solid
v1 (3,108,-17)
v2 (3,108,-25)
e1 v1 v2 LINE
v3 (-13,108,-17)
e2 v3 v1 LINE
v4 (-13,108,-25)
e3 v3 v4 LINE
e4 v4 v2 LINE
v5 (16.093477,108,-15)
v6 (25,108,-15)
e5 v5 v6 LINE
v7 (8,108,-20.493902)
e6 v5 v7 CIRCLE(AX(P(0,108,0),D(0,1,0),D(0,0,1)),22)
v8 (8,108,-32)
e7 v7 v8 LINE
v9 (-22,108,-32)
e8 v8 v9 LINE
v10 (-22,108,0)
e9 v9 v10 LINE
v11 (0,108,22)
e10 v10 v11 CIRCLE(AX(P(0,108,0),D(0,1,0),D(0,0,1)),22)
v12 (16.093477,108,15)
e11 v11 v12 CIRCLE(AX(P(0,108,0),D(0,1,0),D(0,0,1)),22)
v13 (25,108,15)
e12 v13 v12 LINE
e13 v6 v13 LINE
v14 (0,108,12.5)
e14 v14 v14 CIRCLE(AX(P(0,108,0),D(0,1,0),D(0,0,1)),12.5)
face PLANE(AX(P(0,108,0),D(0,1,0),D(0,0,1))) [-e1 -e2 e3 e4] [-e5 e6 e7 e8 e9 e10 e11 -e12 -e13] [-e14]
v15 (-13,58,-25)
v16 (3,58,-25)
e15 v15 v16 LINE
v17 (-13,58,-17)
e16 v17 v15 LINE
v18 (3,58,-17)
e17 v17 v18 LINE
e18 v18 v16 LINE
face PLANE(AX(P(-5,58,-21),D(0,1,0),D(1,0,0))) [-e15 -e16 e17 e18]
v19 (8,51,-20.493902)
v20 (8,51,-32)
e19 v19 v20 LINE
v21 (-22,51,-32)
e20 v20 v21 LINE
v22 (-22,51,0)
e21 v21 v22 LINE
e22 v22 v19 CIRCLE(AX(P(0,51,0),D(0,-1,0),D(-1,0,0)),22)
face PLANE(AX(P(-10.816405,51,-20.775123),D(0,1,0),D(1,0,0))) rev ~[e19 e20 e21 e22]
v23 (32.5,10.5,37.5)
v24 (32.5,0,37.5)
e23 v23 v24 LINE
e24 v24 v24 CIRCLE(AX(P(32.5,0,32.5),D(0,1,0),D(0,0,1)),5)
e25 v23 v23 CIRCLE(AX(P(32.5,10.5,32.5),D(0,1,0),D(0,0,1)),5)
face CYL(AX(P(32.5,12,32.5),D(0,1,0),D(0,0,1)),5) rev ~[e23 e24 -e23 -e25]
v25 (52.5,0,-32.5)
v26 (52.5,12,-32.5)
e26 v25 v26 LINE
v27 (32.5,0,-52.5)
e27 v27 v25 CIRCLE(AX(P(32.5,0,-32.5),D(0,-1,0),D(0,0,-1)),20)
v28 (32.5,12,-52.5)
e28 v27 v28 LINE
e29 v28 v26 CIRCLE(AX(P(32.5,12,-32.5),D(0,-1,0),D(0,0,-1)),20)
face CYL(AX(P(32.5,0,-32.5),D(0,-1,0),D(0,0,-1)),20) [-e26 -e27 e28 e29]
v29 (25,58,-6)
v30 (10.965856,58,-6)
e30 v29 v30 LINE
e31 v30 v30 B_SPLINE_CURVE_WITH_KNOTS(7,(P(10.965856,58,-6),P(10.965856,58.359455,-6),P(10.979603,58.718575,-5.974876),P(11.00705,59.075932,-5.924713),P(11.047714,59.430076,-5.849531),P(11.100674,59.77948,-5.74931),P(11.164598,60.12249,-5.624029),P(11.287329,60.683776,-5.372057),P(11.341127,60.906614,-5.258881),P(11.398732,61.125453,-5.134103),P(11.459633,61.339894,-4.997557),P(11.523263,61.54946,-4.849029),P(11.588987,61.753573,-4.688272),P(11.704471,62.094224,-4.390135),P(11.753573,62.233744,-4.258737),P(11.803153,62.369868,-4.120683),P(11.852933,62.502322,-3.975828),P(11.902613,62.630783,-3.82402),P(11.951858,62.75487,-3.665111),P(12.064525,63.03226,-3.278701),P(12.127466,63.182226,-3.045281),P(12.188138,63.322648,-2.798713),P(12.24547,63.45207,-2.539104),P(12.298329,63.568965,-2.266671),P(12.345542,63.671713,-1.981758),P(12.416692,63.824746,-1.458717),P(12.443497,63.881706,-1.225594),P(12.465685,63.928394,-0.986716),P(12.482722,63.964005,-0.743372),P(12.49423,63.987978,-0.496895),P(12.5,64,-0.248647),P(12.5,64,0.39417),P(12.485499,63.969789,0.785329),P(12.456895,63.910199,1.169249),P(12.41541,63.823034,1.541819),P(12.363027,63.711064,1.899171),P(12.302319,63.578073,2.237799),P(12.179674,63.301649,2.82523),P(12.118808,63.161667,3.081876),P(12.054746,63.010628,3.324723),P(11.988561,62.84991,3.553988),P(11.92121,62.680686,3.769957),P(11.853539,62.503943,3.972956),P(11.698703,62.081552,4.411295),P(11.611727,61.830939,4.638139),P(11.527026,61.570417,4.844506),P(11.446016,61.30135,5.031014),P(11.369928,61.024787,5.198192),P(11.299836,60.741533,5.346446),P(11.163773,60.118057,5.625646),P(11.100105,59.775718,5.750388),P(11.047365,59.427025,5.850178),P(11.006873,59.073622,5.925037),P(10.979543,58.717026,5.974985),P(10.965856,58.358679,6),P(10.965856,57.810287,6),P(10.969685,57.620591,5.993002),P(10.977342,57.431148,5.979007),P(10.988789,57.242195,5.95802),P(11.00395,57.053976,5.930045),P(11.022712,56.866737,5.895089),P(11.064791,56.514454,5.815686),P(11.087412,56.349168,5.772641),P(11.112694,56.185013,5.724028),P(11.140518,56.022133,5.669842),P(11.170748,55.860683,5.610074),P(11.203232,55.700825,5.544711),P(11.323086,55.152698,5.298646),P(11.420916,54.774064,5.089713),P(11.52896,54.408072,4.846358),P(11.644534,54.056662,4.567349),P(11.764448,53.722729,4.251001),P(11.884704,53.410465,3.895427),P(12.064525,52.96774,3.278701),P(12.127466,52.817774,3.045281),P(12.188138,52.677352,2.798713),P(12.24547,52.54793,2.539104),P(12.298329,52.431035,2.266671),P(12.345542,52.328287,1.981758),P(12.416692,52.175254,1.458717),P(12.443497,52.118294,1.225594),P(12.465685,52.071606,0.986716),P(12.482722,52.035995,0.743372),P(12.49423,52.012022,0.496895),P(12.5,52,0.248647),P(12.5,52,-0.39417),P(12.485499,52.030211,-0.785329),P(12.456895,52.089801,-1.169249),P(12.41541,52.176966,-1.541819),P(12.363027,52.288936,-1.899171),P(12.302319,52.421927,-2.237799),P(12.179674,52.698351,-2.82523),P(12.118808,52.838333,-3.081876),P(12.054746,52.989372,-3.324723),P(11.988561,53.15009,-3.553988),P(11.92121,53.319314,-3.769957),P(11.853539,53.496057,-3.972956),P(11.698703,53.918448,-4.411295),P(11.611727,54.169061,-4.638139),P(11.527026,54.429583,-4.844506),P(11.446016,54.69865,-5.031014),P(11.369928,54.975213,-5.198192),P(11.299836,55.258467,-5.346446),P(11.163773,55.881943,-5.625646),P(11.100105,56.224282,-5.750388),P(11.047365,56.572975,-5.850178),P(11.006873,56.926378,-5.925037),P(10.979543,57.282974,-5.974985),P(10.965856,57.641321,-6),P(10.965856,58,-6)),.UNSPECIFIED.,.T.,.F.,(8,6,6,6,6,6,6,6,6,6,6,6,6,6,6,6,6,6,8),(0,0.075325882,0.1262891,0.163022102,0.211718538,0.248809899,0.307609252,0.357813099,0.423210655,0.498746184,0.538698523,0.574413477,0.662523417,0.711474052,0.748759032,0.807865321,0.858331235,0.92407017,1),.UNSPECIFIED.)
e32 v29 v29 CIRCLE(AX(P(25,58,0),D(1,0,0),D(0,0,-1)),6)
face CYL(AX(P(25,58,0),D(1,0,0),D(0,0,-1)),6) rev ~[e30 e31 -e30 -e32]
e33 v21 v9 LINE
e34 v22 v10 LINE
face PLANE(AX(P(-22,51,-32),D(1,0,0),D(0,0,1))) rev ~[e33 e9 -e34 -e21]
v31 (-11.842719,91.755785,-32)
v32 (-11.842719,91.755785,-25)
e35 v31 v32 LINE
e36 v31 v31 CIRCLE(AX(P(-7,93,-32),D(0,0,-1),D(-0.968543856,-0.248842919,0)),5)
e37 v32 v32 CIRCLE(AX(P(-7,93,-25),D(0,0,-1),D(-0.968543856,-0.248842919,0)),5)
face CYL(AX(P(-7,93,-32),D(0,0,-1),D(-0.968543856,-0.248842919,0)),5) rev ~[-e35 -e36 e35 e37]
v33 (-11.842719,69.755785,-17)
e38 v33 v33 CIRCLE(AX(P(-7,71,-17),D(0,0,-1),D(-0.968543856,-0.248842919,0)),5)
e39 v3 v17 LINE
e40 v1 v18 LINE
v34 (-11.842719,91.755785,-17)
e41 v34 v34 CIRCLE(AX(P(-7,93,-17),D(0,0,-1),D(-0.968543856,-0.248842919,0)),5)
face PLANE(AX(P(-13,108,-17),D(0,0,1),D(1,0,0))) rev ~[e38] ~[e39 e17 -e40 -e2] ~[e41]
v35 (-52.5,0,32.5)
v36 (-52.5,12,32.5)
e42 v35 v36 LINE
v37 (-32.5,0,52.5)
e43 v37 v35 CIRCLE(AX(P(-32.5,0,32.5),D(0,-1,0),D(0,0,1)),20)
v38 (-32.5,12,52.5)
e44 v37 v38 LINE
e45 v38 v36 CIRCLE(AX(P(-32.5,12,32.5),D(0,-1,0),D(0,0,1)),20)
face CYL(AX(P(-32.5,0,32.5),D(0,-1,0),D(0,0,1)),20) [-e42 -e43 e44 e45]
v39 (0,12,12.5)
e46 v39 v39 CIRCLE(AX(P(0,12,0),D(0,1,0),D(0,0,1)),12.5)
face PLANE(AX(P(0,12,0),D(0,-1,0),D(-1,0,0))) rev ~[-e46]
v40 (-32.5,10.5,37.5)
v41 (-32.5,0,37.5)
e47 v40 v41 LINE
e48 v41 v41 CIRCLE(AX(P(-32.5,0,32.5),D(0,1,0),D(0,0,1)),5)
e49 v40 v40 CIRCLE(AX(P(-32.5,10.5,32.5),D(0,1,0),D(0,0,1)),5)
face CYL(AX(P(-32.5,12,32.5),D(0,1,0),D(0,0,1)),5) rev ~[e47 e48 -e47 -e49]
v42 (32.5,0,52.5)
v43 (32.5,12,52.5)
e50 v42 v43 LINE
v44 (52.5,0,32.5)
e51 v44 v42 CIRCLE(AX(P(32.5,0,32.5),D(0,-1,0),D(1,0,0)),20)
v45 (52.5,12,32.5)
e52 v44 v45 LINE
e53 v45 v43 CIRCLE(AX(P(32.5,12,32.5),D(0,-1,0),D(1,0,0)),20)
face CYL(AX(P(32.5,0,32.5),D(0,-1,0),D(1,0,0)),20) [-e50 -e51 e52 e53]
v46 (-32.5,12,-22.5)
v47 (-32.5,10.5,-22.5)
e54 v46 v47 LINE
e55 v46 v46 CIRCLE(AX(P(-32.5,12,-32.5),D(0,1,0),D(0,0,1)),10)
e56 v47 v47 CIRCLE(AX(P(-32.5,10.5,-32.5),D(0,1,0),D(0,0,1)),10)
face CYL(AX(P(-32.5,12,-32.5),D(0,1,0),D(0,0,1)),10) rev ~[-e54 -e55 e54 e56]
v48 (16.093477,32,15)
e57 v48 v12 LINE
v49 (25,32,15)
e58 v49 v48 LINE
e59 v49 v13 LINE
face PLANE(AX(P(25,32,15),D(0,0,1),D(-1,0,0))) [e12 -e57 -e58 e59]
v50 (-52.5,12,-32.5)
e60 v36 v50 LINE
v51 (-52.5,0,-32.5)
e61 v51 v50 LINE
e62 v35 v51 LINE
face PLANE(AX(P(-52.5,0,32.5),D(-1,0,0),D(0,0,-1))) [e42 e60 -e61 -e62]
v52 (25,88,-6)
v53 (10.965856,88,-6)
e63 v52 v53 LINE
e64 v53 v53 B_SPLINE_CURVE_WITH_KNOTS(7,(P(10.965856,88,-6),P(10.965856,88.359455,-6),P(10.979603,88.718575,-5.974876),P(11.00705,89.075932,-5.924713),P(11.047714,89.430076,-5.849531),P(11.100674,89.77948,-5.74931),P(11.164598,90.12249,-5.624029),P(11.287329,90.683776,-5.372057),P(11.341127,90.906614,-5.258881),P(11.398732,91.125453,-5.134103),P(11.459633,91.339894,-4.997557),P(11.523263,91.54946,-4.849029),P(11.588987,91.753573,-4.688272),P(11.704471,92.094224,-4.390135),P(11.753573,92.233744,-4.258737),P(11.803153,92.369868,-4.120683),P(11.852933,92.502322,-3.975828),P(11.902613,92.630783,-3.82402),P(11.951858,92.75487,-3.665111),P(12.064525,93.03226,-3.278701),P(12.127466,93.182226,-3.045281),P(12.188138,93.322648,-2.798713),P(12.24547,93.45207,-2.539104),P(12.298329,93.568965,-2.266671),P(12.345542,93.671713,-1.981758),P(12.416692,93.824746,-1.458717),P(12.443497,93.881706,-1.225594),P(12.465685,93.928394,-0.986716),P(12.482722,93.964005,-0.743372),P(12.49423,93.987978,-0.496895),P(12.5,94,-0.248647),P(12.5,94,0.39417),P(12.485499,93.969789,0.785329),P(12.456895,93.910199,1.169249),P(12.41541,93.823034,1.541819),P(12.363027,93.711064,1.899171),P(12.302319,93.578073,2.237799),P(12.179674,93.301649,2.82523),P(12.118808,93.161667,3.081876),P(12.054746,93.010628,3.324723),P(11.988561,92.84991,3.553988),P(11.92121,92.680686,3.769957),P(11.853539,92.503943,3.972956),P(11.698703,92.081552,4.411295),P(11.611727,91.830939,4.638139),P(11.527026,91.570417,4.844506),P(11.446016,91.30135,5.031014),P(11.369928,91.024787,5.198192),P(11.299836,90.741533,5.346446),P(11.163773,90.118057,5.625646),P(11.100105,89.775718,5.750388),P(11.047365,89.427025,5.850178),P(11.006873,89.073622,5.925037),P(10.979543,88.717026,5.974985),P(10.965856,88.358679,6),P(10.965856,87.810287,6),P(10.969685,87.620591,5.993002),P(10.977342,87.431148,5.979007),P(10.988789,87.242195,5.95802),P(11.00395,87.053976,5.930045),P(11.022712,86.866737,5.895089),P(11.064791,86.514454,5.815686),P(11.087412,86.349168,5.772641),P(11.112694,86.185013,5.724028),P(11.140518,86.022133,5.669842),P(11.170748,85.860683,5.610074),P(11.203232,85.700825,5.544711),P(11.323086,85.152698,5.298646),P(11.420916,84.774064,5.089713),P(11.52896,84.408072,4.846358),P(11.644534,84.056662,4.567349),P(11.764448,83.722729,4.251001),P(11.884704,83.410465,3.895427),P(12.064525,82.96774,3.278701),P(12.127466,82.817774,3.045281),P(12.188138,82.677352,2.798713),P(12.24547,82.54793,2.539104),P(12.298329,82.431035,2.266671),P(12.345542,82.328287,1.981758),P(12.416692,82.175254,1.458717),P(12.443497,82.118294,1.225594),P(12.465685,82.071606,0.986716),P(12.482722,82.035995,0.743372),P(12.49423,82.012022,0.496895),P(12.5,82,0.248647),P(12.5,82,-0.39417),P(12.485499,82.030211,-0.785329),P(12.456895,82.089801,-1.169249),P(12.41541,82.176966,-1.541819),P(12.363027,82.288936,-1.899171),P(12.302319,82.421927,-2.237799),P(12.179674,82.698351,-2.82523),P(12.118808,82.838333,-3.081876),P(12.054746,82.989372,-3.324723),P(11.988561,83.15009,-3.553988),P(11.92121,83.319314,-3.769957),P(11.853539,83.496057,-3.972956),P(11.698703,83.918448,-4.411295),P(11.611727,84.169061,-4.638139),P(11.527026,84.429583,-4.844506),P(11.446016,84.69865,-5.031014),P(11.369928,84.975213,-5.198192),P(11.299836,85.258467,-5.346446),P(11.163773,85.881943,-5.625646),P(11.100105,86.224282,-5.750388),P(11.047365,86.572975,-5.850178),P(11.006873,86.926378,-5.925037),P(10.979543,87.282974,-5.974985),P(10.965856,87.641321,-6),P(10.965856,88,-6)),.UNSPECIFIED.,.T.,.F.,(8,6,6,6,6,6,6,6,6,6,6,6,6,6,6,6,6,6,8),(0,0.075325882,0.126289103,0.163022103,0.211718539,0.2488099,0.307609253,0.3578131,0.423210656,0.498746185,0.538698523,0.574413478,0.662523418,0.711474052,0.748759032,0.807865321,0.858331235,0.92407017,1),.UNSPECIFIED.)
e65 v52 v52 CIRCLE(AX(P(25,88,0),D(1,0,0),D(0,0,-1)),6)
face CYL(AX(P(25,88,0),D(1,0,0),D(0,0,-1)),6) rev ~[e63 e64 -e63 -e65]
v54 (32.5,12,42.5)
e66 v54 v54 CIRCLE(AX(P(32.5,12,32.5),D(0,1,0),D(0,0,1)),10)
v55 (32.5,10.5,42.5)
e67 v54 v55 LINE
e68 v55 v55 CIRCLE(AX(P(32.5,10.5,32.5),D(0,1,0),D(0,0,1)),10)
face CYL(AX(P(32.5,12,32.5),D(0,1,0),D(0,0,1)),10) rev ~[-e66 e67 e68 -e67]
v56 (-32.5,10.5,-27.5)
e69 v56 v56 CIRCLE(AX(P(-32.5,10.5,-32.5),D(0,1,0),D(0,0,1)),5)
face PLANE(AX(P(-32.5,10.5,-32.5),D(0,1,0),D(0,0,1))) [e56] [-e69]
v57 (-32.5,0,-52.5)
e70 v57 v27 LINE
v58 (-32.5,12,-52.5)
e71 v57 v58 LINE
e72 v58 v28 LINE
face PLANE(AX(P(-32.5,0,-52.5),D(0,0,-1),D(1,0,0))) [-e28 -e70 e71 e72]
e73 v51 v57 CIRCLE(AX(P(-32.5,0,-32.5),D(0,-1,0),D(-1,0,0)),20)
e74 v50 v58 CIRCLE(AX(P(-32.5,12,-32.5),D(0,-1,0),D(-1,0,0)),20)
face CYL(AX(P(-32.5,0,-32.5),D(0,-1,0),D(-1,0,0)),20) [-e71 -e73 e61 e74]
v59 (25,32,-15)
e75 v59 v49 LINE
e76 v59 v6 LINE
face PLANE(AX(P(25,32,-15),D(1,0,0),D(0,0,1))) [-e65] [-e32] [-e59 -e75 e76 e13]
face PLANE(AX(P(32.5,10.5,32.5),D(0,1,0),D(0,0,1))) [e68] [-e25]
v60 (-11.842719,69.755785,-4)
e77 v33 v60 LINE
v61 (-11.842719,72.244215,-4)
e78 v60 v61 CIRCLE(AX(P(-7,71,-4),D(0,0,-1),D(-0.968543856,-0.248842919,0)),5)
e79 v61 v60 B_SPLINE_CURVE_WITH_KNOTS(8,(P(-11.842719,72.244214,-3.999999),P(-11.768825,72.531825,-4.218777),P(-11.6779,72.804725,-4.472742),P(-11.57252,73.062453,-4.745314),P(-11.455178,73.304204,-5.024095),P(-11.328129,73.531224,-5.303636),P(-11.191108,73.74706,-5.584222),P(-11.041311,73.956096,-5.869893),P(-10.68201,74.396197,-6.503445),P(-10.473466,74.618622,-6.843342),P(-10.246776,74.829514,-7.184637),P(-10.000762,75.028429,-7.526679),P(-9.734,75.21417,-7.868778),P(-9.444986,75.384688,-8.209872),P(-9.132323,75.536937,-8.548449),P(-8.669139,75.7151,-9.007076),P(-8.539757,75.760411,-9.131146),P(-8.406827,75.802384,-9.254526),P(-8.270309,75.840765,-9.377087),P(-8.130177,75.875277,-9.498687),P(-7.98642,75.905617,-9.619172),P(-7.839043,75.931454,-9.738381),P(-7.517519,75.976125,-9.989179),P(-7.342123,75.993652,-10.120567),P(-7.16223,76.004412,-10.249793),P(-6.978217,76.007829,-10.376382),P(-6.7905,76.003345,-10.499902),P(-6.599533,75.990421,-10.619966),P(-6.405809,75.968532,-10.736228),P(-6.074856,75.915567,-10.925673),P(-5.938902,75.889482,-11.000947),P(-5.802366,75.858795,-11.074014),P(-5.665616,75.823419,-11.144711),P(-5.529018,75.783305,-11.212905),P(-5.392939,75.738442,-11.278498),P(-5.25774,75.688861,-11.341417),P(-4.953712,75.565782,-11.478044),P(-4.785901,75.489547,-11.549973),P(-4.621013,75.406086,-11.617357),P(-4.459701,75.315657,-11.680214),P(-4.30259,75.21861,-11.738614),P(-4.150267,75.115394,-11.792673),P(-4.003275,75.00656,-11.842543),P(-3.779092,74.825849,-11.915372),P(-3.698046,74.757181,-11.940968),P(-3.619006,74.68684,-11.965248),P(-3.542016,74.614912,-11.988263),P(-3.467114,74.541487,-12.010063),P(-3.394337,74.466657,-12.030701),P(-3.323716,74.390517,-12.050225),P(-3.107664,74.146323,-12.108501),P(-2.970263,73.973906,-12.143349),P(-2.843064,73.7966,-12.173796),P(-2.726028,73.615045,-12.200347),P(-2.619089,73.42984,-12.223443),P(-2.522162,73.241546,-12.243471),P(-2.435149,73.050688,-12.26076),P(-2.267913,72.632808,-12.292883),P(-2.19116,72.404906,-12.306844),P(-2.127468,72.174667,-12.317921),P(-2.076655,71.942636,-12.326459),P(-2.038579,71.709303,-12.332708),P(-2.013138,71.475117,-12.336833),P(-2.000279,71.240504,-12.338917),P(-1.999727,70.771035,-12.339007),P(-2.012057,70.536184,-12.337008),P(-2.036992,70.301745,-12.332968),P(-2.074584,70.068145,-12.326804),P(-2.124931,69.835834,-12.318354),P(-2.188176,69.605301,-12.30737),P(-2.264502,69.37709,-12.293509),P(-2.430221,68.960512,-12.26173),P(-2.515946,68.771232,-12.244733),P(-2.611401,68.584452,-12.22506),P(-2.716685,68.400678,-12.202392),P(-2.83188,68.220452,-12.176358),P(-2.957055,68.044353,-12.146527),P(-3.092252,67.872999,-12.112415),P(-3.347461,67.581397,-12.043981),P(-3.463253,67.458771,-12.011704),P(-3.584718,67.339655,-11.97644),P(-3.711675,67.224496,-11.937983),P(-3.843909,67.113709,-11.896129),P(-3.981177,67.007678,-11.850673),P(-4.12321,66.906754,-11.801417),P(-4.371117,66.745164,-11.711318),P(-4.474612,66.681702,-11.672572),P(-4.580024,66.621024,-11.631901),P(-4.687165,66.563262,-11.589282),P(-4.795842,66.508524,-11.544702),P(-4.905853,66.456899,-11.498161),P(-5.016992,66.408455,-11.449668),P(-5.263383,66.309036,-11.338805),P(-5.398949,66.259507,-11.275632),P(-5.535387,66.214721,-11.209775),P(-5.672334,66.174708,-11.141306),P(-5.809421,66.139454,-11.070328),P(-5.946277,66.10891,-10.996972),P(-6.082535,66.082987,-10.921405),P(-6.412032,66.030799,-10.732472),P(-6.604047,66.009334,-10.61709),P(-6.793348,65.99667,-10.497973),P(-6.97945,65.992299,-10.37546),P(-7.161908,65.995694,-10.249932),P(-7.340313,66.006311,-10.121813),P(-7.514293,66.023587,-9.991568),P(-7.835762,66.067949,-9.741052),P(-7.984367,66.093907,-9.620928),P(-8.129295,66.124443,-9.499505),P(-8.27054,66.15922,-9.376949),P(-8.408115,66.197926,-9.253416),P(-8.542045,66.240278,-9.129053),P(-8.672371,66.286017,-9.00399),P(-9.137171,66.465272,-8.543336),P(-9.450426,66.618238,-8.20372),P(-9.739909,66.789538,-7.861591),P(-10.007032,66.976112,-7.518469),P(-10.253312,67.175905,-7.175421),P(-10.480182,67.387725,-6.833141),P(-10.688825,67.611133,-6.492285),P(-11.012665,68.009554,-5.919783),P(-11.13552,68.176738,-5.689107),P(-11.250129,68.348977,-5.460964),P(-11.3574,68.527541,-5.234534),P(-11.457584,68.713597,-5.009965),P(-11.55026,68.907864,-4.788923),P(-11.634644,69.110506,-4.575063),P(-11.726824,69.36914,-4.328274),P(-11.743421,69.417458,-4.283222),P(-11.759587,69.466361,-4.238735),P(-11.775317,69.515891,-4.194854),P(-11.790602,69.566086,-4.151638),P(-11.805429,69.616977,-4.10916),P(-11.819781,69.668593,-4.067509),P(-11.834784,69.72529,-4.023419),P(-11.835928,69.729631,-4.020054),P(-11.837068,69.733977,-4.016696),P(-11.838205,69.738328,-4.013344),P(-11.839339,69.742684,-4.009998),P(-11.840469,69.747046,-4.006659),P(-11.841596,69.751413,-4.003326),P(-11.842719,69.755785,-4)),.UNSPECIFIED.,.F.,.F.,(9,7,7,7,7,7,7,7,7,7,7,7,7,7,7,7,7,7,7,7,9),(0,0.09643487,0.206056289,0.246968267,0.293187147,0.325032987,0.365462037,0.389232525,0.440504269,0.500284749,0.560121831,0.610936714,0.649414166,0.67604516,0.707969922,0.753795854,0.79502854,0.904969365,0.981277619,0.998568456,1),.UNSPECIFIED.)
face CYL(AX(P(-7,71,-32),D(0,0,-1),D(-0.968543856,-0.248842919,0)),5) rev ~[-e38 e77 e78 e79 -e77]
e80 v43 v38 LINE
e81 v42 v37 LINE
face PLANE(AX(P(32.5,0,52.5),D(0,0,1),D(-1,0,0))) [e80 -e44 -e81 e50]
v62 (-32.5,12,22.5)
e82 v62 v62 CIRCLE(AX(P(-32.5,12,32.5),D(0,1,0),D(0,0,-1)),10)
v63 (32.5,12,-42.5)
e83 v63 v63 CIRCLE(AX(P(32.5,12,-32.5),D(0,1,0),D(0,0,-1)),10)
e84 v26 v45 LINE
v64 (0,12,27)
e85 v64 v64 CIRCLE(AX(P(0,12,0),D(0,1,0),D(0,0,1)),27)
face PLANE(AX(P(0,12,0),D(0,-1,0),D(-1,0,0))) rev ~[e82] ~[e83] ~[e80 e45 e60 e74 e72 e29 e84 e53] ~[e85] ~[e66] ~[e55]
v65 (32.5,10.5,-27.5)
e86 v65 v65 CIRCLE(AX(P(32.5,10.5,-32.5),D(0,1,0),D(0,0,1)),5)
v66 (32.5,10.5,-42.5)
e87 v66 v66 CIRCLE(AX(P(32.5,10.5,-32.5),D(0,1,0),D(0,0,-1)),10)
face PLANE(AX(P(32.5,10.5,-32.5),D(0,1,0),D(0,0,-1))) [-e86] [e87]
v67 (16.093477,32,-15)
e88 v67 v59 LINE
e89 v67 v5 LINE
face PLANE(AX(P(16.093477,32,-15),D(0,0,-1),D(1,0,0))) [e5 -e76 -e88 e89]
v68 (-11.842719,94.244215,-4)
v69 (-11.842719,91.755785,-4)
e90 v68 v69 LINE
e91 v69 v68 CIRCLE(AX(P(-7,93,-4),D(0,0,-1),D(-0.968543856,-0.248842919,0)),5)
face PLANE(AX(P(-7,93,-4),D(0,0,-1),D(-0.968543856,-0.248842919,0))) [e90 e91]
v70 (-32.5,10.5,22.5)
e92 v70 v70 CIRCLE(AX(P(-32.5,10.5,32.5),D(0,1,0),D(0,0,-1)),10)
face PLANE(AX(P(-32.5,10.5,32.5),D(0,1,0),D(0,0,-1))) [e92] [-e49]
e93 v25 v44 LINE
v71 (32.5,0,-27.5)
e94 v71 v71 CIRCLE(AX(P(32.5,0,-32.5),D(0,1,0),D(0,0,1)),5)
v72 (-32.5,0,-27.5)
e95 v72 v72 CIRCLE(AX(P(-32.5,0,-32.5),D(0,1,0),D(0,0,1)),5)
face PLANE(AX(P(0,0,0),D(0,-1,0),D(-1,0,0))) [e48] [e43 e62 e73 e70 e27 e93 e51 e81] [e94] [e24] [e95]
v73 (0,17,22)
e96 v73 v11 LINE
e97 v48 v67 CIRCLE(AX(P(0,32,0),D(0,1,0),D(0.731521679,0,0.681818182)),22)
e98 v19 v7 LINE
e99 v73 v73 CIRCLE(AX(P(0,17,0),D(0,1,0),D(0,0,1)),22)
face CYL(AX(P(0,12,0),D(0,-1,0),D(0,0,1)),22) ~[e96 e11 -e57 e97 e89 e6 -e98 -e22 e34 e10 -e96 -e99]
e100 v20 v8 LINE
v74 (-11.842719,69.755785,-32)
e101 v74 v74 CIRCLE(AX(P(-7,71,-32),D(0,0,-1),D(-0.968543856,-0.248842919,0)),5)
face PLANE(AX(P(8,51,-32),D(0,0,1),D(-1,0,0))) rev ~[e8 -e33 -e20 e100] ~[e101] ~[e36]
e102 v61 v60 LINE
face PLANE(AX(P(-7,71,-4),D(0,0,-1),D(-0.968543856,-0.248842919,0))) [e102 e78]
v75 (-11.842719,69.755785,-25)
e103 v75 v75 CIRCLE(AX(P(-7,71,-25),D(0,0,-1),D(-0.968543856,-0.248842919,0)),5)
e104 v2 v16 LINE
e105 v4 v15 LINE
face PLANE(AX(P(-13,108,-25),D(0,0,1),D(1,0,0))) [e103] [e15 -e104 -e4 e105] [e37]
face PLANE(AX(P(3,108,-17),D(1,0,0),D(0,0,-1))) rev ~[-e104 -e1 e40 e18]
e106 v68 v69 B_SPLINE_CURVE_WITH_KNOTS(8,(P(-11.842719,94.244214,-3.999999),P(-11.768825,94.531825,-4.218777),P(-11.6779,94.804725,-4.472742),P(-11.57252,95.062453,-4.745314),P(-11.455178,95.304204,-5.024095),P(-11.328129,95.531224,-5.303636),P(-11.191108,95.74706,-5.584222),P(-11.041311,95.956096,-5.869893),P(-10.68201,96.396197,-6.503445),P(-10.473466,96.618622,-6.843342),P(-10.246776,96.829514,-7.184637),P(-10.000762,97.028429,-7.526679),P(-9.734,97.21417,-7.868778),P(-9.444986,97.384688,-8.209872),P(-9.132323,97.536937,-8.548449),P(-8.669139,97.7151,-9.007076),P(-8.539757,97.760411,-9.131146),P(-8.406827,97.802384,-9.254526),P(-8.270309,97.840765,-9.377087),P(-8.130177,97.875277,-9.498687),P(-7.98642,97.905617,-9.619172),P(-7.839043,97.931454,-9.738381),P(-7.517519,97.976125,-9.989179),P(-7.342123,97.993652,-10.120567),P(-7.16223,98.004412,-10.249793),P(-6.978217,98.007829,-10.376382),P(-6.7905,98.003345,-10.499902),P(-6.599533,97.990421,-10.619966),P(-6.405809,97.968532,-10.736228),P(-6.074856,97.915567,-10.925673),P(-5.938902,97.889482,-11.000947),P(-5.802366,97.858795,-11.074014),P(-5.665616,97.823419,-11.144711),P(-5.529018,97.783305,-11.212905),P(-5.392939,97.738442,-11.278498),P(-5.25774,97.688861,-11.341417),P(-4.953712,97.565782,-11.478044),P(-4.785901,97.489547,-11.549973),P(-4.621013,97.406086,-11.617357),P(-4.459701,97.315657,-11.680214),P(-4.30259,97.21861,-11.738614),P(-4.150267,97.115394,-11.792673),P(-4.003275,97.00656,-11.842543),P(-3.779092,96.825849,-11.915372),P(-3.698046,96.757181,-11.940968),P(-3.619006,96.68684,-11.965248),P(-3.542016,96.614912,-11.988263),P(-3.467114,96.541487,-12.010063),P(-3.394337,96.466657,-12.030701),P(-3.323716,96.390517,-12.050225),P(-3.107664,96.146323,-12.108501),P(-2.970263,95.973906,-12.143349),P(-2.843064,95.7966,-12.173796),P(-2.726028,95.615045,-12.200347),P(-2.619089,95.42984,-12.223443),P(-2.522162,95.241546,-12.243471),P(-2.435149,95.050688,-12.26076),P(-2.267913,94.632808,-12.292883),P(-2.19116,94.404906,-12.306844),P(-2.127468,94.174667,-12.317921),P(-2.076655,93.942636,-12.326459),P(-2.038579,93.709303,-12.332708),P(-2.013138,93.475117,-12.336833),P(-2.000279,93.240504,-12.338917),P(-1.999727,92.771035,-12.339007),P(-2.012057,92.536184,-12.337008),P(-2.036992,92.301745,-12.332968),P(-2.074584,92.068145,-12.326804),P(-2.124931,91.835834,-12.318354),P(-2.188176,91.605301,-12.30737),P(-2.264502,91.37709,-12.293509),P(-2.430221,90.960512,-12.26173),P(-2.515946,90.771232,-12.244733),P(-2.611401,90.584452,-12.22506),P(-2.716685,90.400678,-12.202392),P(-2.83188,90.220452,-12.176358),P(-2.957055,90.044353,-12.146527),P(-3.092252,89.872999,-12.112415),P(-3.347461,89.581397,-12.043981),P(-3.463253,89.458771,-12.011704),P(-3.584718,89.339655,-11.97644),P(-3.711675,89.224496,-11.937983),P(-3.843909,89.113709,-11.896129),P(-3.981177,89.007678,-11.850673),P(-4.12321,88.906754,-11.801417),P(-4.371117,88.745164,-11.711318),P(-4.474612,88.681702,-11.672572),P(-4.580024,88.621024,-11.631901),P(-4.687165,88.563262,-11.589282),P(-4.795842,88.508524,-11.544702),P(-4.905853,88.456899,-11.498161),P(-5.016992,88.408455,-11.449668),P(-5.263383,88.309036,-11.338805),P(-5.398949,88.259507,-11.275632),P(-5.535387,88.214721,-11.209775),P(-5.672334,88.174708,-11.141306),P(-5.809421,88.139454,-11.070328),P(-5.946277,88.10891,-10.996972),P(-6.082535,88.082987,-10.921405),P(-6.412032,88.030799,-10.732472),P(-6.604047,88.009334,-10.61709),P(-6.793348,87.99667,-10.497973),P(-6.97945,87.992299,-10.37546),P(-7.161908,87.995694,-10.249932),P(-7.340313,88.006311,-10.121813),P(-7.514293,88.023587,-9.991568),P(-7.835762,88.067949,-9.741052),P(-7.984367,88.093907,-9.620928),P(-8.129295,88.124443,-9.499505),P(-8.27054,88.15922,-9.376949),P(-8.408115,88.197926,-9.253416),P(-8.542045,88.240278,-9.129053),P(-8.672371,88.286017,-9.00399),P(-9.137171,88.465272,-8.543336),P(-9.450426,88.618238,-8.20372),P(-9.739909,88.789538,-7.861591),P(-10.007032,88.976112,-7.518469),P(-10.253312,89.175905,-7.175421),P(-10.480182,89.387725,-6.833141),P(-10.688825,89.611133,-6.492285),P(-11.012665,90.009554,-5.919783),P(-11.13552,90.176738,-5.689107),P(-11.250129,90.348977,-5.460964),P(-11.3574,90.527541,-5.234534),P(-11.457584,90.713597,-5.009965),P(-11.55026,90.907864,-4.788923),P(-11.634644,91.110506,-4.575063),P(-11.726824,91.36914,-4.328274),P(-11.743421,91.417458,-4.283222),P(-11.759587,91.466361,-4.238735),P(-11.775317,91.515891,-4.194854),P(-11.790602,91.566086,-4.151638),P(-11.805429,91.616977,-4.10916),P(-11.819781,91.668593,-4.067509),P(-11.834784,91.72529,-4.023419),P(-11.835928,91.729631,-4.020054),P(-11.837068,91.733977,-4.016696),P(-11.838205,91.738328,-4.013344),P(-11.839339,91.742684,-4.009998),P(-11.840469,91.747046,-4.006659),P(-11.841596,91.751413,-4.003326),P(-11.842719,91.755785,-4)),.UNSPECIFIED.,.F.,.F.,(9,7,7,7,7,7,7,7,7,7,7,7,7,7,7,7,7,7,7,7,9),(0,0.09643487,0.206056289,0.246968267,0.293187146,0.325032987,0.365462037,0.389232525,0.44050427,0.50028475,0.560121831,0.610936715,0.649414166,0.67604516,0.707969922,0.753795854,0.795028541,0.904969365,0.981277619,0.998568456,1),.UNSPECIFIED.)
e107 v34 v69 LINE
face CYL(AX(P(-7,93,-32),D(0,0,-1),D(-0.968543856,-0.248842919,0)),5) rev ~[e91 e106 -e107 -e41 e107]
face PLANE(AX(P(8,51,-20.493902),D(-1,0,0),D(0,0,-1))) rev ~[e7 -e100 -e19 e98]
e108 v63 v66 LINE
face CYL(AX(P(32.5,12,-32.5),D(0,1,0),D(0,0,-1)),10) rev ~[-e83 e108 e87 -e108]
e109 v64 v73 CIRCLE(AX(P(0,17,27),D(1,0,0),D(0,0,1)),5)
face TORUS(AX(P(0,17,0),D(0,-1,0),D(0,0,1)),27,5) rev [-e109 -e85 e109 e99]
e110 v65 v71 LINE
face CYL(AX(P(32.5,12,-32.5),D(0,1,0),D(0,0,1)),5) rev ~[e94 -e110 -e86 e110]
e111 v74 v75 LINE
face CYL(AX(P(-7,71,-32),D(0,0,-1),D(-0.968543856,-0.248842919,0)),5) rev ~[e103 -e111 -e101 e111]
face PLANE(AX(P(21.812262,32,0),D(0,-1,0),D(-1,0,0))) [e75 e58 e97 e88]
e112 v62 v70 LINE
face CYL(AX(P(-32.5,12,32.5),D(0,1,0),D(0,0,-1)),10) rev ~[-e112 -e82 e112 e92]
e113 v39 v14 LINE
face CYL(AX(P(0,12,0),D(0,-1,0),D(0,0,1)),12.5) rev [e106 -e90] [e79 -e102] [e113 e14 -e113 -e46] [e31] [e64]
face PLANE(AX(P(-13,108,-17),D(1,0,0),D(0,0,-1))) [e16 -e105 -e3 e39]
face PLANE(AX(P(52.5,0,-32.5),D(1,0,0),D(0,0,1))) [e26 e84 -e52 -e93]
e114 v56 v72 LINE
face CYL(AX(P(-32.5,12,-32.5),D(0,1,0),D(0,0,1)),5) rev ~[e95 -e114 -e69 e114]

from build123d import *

# Parameters (mm, degrees)
BOSS_EXTRUDE2_DEPTH = 12
SKETCH2_R           = 5
CUT_EXTRUDE1_DEPTH  = 29
SKETCH3_R           = 10
CUT_EXTRUDE3_DEPTH  = 1.5
SKETCH4_R           = 22
SKETCH4_R_2         = 12.5
BOSS_EXTRUDE3_DEPTH = 96
BOSS_EXTRUDE4_START = -76
BOSS_EXTRUDE4_DEPTH = 76
BOSS_EXTRUDE5_START = -57
BOSS_EXTRUDE5_DEPTH = 57
SKETCH7_W           = 16
SKETCH7_H           = 8
CUT_EXTRUDE4_DEPTH  = 50
SKETCH8_R           = 6
CUT_EXTRUDE5_DEPTH  = 20
SKETCH9_R           = 5
CUT_EXTRUDE7_DEPTH  = 28
FILLET1_R           = 5


with BuildPart() as part:
    # Sketch1 → Boss-Extrude2 (new body)
    with BuildSketch(Plane(origin=(0, 0, 0), x_dir=(1, 0, 0), z_dir=(0, 1, 0))):
        with BuildLine():
            Line((-32.5, 52.5), (32.5, 52.5))
            ThreePointArc((32.5, 52.5), (46.642135624, 46.642135624), (52.5, 32.5))
            Line((52.5, 32.5), (52.5, -32.5))
            ThreePointArc((52.5, -32.5), (46.642135624, -46.642135624), (32.5, -52.5))
            Line((32.5, -52.5), (-32.5, -52.5))
            ThreePointArc((-32.5, -52.5), (-46.642135624, -46.642135624), (-52.5, -32.5))
            Line((-52.5, -32.5), (-52.5, 32.5))
            ThreePointArc((-52.5, 32.5), (-46.642135624, 46.642135624), (-32.5, 52.5))
        make_face()
    extrude(amount=BOSS_EXTRUDE2_DEPTH)

    # Sketch2 → Cut-Extrude1 (cut)
    with BuildSketch(Plane(origin=(0, 12, 0), x_dir=(1, 0, 0), z_dir=(0, 1, 0))):
        with Locations(Location((-32.5, 32.5, 0), (0, 0, 270))):
            Circle(SKETCH2_R)
        with Locations(Location((32.5, 32.5, 0), (0, 0, 270))):
            Circle(SKETCH2_R)
        with Locations(Location((32.5, -32.5, 0), (0, 0, 270))):
            Circle(SKETCH2_R)
        with Locations(Location((-32.5, -32.5, 0), (0, 0, 270))):
            Circle(SKETCH2_R)
    extrude(amount=-CUT_EXTRUDE1_DEPTH, mode=Mode.SUBTRACT)

    # Sketch3 → Cut-Extrude3 (cut)
    with BuildSketch(Plane(origin=(0, 12, 0), x_dir=(1, 0, 0), z_dir=(0, 1, 0))):
        with Locations(Location((-32.5, 32.5, 0), (0, 0, 270))):
            Circle(SKETCH3_R)
        with Locations(Location((32.5, 32.5, 0), (0, 0, 90))):
            Circle(SKETCH3_R)
        with Locations(Location((-32.5, -32.5, 0), (0, 0, 90))):
            Circle(SKETCH3_R)
        with Locations(Location((32.5, -32.5, 0), (0, 0, 270))):
            Circle(SKETCH3_R)
    extrude(amount=-CUT_EXTRUDE3_DEPTH, mode=Mode.SUBTRACT)

    # Sketch4 → Boss-Extrude3 (add)
    with BuildSketch(Plane(origin=(0, 12, 0), x_dir=(1, 0, 0), z_dir=(0, 1, 0))):
        with Locations(Location((0, 0, 0), (0, 0, 270))):
            Circle(SKETCH4_R)
        with Locations(Location((0, 0, 0), (0, 0, 270))):
            Circle(SKETCH4_R_2, mode=Mode.SUBTRACT)
    extrude(amount=BOSS_EXTRUDE3_DEPTH)

    # Sketch5 → Boss-Extrude4 (add)
    with BuildSketch(Plane(origin=(0, 108, 0), x_dir=(1, 0, 0), z_dir=(0, 1, 0)).offset(BOSS_EXTRUDE4_START)):
        with BuildLine():
            Line((25, 15), (25, -15))
            Line((25, -15), (16.093476939, -15))
            ThreePointArc((16.093476939, -15), (22, 0), (16.093476939, 15))
            Line((16.093476939, 15), (25, 15))
        make_face()
    extrude(amount=BOSS_EXTRUDE4_DEPTH)

    # Sketch6 → Boss-Extrude5 (add)
    with BuildSketch(Plane(origin=(0, 108, 0), x_dir=(1, 0, 0), z_dir=(0, 1, 0)).offset(BOSS_EXTRUDE5_START)):
        with BuildLine():
            Line((8, 20.493901532), (8, 32))
            Line((8, 32), (-22, 32))
            Line((-22, 32), (-22, 0))
            ThreePointArc((-22, 0), (-12.409673646, 18.165902125), (8, 20.493901532))
        make_face()
    extrude(amount=BOSS_EXTRUDE5_DEPTH)

    # Sketch7 → Cut-Extrude4 (cut)
    with BuildSketch(Plane(origin=(0, 108, 0), x_dir=(1, 0, 0), z_dir=(0, 1, 0))):
        with Locations((-5, 21)):
            Rectangle(SKETCH7_W, SKETCH7_H)
    extrude(amount=-CUT_EXTRUDE4_DEPTH, mode=Mode.SUBTRACT)

    # Sketch8 → Cut-Extrude5 (cut)
    with BuildSketch(Plane(origin=(25, 0, 0), x_dir=(0, 0, -1), z_dir=(1, 0, 0))):
        with Locations((0, 88)):
            Circle(SKETCH8_R)
        with Locations((0, 58)):
            Circle(SKETCH8_R)
    extrude(amount=-CUT_EXTRUDE5_DEPTH, mode=Mode.SUBTRACT)

    # Sketch9 → Cut-Extrude7 (cut)
    with BuildSketch(Plane(origin=(0, 0, -32), x_dir=(-1, 0, 0), z_dir=(0, 0, -1))):
        with Locations(Location((7, 93, 0), (0, 0, 345.590947366))):
            Circle(SKETCH9_R)
        with Locations(Location((7, 71, 0), (0, 0, 345.590947366))):
            Circle(SKETCH9_R)
    extrude(amount=-CUT_EXTRUDE7_DEPTH, mode=Mode.SUBTRACT)

    # Fillet1
    fillet1_edges = [part.edges().sort_by_distance(p)[0] for p in [
        (0, 12, -22),
    ]]
    fillet(fillet1_edges, radius=FILLET1_R)


solid = part.part
